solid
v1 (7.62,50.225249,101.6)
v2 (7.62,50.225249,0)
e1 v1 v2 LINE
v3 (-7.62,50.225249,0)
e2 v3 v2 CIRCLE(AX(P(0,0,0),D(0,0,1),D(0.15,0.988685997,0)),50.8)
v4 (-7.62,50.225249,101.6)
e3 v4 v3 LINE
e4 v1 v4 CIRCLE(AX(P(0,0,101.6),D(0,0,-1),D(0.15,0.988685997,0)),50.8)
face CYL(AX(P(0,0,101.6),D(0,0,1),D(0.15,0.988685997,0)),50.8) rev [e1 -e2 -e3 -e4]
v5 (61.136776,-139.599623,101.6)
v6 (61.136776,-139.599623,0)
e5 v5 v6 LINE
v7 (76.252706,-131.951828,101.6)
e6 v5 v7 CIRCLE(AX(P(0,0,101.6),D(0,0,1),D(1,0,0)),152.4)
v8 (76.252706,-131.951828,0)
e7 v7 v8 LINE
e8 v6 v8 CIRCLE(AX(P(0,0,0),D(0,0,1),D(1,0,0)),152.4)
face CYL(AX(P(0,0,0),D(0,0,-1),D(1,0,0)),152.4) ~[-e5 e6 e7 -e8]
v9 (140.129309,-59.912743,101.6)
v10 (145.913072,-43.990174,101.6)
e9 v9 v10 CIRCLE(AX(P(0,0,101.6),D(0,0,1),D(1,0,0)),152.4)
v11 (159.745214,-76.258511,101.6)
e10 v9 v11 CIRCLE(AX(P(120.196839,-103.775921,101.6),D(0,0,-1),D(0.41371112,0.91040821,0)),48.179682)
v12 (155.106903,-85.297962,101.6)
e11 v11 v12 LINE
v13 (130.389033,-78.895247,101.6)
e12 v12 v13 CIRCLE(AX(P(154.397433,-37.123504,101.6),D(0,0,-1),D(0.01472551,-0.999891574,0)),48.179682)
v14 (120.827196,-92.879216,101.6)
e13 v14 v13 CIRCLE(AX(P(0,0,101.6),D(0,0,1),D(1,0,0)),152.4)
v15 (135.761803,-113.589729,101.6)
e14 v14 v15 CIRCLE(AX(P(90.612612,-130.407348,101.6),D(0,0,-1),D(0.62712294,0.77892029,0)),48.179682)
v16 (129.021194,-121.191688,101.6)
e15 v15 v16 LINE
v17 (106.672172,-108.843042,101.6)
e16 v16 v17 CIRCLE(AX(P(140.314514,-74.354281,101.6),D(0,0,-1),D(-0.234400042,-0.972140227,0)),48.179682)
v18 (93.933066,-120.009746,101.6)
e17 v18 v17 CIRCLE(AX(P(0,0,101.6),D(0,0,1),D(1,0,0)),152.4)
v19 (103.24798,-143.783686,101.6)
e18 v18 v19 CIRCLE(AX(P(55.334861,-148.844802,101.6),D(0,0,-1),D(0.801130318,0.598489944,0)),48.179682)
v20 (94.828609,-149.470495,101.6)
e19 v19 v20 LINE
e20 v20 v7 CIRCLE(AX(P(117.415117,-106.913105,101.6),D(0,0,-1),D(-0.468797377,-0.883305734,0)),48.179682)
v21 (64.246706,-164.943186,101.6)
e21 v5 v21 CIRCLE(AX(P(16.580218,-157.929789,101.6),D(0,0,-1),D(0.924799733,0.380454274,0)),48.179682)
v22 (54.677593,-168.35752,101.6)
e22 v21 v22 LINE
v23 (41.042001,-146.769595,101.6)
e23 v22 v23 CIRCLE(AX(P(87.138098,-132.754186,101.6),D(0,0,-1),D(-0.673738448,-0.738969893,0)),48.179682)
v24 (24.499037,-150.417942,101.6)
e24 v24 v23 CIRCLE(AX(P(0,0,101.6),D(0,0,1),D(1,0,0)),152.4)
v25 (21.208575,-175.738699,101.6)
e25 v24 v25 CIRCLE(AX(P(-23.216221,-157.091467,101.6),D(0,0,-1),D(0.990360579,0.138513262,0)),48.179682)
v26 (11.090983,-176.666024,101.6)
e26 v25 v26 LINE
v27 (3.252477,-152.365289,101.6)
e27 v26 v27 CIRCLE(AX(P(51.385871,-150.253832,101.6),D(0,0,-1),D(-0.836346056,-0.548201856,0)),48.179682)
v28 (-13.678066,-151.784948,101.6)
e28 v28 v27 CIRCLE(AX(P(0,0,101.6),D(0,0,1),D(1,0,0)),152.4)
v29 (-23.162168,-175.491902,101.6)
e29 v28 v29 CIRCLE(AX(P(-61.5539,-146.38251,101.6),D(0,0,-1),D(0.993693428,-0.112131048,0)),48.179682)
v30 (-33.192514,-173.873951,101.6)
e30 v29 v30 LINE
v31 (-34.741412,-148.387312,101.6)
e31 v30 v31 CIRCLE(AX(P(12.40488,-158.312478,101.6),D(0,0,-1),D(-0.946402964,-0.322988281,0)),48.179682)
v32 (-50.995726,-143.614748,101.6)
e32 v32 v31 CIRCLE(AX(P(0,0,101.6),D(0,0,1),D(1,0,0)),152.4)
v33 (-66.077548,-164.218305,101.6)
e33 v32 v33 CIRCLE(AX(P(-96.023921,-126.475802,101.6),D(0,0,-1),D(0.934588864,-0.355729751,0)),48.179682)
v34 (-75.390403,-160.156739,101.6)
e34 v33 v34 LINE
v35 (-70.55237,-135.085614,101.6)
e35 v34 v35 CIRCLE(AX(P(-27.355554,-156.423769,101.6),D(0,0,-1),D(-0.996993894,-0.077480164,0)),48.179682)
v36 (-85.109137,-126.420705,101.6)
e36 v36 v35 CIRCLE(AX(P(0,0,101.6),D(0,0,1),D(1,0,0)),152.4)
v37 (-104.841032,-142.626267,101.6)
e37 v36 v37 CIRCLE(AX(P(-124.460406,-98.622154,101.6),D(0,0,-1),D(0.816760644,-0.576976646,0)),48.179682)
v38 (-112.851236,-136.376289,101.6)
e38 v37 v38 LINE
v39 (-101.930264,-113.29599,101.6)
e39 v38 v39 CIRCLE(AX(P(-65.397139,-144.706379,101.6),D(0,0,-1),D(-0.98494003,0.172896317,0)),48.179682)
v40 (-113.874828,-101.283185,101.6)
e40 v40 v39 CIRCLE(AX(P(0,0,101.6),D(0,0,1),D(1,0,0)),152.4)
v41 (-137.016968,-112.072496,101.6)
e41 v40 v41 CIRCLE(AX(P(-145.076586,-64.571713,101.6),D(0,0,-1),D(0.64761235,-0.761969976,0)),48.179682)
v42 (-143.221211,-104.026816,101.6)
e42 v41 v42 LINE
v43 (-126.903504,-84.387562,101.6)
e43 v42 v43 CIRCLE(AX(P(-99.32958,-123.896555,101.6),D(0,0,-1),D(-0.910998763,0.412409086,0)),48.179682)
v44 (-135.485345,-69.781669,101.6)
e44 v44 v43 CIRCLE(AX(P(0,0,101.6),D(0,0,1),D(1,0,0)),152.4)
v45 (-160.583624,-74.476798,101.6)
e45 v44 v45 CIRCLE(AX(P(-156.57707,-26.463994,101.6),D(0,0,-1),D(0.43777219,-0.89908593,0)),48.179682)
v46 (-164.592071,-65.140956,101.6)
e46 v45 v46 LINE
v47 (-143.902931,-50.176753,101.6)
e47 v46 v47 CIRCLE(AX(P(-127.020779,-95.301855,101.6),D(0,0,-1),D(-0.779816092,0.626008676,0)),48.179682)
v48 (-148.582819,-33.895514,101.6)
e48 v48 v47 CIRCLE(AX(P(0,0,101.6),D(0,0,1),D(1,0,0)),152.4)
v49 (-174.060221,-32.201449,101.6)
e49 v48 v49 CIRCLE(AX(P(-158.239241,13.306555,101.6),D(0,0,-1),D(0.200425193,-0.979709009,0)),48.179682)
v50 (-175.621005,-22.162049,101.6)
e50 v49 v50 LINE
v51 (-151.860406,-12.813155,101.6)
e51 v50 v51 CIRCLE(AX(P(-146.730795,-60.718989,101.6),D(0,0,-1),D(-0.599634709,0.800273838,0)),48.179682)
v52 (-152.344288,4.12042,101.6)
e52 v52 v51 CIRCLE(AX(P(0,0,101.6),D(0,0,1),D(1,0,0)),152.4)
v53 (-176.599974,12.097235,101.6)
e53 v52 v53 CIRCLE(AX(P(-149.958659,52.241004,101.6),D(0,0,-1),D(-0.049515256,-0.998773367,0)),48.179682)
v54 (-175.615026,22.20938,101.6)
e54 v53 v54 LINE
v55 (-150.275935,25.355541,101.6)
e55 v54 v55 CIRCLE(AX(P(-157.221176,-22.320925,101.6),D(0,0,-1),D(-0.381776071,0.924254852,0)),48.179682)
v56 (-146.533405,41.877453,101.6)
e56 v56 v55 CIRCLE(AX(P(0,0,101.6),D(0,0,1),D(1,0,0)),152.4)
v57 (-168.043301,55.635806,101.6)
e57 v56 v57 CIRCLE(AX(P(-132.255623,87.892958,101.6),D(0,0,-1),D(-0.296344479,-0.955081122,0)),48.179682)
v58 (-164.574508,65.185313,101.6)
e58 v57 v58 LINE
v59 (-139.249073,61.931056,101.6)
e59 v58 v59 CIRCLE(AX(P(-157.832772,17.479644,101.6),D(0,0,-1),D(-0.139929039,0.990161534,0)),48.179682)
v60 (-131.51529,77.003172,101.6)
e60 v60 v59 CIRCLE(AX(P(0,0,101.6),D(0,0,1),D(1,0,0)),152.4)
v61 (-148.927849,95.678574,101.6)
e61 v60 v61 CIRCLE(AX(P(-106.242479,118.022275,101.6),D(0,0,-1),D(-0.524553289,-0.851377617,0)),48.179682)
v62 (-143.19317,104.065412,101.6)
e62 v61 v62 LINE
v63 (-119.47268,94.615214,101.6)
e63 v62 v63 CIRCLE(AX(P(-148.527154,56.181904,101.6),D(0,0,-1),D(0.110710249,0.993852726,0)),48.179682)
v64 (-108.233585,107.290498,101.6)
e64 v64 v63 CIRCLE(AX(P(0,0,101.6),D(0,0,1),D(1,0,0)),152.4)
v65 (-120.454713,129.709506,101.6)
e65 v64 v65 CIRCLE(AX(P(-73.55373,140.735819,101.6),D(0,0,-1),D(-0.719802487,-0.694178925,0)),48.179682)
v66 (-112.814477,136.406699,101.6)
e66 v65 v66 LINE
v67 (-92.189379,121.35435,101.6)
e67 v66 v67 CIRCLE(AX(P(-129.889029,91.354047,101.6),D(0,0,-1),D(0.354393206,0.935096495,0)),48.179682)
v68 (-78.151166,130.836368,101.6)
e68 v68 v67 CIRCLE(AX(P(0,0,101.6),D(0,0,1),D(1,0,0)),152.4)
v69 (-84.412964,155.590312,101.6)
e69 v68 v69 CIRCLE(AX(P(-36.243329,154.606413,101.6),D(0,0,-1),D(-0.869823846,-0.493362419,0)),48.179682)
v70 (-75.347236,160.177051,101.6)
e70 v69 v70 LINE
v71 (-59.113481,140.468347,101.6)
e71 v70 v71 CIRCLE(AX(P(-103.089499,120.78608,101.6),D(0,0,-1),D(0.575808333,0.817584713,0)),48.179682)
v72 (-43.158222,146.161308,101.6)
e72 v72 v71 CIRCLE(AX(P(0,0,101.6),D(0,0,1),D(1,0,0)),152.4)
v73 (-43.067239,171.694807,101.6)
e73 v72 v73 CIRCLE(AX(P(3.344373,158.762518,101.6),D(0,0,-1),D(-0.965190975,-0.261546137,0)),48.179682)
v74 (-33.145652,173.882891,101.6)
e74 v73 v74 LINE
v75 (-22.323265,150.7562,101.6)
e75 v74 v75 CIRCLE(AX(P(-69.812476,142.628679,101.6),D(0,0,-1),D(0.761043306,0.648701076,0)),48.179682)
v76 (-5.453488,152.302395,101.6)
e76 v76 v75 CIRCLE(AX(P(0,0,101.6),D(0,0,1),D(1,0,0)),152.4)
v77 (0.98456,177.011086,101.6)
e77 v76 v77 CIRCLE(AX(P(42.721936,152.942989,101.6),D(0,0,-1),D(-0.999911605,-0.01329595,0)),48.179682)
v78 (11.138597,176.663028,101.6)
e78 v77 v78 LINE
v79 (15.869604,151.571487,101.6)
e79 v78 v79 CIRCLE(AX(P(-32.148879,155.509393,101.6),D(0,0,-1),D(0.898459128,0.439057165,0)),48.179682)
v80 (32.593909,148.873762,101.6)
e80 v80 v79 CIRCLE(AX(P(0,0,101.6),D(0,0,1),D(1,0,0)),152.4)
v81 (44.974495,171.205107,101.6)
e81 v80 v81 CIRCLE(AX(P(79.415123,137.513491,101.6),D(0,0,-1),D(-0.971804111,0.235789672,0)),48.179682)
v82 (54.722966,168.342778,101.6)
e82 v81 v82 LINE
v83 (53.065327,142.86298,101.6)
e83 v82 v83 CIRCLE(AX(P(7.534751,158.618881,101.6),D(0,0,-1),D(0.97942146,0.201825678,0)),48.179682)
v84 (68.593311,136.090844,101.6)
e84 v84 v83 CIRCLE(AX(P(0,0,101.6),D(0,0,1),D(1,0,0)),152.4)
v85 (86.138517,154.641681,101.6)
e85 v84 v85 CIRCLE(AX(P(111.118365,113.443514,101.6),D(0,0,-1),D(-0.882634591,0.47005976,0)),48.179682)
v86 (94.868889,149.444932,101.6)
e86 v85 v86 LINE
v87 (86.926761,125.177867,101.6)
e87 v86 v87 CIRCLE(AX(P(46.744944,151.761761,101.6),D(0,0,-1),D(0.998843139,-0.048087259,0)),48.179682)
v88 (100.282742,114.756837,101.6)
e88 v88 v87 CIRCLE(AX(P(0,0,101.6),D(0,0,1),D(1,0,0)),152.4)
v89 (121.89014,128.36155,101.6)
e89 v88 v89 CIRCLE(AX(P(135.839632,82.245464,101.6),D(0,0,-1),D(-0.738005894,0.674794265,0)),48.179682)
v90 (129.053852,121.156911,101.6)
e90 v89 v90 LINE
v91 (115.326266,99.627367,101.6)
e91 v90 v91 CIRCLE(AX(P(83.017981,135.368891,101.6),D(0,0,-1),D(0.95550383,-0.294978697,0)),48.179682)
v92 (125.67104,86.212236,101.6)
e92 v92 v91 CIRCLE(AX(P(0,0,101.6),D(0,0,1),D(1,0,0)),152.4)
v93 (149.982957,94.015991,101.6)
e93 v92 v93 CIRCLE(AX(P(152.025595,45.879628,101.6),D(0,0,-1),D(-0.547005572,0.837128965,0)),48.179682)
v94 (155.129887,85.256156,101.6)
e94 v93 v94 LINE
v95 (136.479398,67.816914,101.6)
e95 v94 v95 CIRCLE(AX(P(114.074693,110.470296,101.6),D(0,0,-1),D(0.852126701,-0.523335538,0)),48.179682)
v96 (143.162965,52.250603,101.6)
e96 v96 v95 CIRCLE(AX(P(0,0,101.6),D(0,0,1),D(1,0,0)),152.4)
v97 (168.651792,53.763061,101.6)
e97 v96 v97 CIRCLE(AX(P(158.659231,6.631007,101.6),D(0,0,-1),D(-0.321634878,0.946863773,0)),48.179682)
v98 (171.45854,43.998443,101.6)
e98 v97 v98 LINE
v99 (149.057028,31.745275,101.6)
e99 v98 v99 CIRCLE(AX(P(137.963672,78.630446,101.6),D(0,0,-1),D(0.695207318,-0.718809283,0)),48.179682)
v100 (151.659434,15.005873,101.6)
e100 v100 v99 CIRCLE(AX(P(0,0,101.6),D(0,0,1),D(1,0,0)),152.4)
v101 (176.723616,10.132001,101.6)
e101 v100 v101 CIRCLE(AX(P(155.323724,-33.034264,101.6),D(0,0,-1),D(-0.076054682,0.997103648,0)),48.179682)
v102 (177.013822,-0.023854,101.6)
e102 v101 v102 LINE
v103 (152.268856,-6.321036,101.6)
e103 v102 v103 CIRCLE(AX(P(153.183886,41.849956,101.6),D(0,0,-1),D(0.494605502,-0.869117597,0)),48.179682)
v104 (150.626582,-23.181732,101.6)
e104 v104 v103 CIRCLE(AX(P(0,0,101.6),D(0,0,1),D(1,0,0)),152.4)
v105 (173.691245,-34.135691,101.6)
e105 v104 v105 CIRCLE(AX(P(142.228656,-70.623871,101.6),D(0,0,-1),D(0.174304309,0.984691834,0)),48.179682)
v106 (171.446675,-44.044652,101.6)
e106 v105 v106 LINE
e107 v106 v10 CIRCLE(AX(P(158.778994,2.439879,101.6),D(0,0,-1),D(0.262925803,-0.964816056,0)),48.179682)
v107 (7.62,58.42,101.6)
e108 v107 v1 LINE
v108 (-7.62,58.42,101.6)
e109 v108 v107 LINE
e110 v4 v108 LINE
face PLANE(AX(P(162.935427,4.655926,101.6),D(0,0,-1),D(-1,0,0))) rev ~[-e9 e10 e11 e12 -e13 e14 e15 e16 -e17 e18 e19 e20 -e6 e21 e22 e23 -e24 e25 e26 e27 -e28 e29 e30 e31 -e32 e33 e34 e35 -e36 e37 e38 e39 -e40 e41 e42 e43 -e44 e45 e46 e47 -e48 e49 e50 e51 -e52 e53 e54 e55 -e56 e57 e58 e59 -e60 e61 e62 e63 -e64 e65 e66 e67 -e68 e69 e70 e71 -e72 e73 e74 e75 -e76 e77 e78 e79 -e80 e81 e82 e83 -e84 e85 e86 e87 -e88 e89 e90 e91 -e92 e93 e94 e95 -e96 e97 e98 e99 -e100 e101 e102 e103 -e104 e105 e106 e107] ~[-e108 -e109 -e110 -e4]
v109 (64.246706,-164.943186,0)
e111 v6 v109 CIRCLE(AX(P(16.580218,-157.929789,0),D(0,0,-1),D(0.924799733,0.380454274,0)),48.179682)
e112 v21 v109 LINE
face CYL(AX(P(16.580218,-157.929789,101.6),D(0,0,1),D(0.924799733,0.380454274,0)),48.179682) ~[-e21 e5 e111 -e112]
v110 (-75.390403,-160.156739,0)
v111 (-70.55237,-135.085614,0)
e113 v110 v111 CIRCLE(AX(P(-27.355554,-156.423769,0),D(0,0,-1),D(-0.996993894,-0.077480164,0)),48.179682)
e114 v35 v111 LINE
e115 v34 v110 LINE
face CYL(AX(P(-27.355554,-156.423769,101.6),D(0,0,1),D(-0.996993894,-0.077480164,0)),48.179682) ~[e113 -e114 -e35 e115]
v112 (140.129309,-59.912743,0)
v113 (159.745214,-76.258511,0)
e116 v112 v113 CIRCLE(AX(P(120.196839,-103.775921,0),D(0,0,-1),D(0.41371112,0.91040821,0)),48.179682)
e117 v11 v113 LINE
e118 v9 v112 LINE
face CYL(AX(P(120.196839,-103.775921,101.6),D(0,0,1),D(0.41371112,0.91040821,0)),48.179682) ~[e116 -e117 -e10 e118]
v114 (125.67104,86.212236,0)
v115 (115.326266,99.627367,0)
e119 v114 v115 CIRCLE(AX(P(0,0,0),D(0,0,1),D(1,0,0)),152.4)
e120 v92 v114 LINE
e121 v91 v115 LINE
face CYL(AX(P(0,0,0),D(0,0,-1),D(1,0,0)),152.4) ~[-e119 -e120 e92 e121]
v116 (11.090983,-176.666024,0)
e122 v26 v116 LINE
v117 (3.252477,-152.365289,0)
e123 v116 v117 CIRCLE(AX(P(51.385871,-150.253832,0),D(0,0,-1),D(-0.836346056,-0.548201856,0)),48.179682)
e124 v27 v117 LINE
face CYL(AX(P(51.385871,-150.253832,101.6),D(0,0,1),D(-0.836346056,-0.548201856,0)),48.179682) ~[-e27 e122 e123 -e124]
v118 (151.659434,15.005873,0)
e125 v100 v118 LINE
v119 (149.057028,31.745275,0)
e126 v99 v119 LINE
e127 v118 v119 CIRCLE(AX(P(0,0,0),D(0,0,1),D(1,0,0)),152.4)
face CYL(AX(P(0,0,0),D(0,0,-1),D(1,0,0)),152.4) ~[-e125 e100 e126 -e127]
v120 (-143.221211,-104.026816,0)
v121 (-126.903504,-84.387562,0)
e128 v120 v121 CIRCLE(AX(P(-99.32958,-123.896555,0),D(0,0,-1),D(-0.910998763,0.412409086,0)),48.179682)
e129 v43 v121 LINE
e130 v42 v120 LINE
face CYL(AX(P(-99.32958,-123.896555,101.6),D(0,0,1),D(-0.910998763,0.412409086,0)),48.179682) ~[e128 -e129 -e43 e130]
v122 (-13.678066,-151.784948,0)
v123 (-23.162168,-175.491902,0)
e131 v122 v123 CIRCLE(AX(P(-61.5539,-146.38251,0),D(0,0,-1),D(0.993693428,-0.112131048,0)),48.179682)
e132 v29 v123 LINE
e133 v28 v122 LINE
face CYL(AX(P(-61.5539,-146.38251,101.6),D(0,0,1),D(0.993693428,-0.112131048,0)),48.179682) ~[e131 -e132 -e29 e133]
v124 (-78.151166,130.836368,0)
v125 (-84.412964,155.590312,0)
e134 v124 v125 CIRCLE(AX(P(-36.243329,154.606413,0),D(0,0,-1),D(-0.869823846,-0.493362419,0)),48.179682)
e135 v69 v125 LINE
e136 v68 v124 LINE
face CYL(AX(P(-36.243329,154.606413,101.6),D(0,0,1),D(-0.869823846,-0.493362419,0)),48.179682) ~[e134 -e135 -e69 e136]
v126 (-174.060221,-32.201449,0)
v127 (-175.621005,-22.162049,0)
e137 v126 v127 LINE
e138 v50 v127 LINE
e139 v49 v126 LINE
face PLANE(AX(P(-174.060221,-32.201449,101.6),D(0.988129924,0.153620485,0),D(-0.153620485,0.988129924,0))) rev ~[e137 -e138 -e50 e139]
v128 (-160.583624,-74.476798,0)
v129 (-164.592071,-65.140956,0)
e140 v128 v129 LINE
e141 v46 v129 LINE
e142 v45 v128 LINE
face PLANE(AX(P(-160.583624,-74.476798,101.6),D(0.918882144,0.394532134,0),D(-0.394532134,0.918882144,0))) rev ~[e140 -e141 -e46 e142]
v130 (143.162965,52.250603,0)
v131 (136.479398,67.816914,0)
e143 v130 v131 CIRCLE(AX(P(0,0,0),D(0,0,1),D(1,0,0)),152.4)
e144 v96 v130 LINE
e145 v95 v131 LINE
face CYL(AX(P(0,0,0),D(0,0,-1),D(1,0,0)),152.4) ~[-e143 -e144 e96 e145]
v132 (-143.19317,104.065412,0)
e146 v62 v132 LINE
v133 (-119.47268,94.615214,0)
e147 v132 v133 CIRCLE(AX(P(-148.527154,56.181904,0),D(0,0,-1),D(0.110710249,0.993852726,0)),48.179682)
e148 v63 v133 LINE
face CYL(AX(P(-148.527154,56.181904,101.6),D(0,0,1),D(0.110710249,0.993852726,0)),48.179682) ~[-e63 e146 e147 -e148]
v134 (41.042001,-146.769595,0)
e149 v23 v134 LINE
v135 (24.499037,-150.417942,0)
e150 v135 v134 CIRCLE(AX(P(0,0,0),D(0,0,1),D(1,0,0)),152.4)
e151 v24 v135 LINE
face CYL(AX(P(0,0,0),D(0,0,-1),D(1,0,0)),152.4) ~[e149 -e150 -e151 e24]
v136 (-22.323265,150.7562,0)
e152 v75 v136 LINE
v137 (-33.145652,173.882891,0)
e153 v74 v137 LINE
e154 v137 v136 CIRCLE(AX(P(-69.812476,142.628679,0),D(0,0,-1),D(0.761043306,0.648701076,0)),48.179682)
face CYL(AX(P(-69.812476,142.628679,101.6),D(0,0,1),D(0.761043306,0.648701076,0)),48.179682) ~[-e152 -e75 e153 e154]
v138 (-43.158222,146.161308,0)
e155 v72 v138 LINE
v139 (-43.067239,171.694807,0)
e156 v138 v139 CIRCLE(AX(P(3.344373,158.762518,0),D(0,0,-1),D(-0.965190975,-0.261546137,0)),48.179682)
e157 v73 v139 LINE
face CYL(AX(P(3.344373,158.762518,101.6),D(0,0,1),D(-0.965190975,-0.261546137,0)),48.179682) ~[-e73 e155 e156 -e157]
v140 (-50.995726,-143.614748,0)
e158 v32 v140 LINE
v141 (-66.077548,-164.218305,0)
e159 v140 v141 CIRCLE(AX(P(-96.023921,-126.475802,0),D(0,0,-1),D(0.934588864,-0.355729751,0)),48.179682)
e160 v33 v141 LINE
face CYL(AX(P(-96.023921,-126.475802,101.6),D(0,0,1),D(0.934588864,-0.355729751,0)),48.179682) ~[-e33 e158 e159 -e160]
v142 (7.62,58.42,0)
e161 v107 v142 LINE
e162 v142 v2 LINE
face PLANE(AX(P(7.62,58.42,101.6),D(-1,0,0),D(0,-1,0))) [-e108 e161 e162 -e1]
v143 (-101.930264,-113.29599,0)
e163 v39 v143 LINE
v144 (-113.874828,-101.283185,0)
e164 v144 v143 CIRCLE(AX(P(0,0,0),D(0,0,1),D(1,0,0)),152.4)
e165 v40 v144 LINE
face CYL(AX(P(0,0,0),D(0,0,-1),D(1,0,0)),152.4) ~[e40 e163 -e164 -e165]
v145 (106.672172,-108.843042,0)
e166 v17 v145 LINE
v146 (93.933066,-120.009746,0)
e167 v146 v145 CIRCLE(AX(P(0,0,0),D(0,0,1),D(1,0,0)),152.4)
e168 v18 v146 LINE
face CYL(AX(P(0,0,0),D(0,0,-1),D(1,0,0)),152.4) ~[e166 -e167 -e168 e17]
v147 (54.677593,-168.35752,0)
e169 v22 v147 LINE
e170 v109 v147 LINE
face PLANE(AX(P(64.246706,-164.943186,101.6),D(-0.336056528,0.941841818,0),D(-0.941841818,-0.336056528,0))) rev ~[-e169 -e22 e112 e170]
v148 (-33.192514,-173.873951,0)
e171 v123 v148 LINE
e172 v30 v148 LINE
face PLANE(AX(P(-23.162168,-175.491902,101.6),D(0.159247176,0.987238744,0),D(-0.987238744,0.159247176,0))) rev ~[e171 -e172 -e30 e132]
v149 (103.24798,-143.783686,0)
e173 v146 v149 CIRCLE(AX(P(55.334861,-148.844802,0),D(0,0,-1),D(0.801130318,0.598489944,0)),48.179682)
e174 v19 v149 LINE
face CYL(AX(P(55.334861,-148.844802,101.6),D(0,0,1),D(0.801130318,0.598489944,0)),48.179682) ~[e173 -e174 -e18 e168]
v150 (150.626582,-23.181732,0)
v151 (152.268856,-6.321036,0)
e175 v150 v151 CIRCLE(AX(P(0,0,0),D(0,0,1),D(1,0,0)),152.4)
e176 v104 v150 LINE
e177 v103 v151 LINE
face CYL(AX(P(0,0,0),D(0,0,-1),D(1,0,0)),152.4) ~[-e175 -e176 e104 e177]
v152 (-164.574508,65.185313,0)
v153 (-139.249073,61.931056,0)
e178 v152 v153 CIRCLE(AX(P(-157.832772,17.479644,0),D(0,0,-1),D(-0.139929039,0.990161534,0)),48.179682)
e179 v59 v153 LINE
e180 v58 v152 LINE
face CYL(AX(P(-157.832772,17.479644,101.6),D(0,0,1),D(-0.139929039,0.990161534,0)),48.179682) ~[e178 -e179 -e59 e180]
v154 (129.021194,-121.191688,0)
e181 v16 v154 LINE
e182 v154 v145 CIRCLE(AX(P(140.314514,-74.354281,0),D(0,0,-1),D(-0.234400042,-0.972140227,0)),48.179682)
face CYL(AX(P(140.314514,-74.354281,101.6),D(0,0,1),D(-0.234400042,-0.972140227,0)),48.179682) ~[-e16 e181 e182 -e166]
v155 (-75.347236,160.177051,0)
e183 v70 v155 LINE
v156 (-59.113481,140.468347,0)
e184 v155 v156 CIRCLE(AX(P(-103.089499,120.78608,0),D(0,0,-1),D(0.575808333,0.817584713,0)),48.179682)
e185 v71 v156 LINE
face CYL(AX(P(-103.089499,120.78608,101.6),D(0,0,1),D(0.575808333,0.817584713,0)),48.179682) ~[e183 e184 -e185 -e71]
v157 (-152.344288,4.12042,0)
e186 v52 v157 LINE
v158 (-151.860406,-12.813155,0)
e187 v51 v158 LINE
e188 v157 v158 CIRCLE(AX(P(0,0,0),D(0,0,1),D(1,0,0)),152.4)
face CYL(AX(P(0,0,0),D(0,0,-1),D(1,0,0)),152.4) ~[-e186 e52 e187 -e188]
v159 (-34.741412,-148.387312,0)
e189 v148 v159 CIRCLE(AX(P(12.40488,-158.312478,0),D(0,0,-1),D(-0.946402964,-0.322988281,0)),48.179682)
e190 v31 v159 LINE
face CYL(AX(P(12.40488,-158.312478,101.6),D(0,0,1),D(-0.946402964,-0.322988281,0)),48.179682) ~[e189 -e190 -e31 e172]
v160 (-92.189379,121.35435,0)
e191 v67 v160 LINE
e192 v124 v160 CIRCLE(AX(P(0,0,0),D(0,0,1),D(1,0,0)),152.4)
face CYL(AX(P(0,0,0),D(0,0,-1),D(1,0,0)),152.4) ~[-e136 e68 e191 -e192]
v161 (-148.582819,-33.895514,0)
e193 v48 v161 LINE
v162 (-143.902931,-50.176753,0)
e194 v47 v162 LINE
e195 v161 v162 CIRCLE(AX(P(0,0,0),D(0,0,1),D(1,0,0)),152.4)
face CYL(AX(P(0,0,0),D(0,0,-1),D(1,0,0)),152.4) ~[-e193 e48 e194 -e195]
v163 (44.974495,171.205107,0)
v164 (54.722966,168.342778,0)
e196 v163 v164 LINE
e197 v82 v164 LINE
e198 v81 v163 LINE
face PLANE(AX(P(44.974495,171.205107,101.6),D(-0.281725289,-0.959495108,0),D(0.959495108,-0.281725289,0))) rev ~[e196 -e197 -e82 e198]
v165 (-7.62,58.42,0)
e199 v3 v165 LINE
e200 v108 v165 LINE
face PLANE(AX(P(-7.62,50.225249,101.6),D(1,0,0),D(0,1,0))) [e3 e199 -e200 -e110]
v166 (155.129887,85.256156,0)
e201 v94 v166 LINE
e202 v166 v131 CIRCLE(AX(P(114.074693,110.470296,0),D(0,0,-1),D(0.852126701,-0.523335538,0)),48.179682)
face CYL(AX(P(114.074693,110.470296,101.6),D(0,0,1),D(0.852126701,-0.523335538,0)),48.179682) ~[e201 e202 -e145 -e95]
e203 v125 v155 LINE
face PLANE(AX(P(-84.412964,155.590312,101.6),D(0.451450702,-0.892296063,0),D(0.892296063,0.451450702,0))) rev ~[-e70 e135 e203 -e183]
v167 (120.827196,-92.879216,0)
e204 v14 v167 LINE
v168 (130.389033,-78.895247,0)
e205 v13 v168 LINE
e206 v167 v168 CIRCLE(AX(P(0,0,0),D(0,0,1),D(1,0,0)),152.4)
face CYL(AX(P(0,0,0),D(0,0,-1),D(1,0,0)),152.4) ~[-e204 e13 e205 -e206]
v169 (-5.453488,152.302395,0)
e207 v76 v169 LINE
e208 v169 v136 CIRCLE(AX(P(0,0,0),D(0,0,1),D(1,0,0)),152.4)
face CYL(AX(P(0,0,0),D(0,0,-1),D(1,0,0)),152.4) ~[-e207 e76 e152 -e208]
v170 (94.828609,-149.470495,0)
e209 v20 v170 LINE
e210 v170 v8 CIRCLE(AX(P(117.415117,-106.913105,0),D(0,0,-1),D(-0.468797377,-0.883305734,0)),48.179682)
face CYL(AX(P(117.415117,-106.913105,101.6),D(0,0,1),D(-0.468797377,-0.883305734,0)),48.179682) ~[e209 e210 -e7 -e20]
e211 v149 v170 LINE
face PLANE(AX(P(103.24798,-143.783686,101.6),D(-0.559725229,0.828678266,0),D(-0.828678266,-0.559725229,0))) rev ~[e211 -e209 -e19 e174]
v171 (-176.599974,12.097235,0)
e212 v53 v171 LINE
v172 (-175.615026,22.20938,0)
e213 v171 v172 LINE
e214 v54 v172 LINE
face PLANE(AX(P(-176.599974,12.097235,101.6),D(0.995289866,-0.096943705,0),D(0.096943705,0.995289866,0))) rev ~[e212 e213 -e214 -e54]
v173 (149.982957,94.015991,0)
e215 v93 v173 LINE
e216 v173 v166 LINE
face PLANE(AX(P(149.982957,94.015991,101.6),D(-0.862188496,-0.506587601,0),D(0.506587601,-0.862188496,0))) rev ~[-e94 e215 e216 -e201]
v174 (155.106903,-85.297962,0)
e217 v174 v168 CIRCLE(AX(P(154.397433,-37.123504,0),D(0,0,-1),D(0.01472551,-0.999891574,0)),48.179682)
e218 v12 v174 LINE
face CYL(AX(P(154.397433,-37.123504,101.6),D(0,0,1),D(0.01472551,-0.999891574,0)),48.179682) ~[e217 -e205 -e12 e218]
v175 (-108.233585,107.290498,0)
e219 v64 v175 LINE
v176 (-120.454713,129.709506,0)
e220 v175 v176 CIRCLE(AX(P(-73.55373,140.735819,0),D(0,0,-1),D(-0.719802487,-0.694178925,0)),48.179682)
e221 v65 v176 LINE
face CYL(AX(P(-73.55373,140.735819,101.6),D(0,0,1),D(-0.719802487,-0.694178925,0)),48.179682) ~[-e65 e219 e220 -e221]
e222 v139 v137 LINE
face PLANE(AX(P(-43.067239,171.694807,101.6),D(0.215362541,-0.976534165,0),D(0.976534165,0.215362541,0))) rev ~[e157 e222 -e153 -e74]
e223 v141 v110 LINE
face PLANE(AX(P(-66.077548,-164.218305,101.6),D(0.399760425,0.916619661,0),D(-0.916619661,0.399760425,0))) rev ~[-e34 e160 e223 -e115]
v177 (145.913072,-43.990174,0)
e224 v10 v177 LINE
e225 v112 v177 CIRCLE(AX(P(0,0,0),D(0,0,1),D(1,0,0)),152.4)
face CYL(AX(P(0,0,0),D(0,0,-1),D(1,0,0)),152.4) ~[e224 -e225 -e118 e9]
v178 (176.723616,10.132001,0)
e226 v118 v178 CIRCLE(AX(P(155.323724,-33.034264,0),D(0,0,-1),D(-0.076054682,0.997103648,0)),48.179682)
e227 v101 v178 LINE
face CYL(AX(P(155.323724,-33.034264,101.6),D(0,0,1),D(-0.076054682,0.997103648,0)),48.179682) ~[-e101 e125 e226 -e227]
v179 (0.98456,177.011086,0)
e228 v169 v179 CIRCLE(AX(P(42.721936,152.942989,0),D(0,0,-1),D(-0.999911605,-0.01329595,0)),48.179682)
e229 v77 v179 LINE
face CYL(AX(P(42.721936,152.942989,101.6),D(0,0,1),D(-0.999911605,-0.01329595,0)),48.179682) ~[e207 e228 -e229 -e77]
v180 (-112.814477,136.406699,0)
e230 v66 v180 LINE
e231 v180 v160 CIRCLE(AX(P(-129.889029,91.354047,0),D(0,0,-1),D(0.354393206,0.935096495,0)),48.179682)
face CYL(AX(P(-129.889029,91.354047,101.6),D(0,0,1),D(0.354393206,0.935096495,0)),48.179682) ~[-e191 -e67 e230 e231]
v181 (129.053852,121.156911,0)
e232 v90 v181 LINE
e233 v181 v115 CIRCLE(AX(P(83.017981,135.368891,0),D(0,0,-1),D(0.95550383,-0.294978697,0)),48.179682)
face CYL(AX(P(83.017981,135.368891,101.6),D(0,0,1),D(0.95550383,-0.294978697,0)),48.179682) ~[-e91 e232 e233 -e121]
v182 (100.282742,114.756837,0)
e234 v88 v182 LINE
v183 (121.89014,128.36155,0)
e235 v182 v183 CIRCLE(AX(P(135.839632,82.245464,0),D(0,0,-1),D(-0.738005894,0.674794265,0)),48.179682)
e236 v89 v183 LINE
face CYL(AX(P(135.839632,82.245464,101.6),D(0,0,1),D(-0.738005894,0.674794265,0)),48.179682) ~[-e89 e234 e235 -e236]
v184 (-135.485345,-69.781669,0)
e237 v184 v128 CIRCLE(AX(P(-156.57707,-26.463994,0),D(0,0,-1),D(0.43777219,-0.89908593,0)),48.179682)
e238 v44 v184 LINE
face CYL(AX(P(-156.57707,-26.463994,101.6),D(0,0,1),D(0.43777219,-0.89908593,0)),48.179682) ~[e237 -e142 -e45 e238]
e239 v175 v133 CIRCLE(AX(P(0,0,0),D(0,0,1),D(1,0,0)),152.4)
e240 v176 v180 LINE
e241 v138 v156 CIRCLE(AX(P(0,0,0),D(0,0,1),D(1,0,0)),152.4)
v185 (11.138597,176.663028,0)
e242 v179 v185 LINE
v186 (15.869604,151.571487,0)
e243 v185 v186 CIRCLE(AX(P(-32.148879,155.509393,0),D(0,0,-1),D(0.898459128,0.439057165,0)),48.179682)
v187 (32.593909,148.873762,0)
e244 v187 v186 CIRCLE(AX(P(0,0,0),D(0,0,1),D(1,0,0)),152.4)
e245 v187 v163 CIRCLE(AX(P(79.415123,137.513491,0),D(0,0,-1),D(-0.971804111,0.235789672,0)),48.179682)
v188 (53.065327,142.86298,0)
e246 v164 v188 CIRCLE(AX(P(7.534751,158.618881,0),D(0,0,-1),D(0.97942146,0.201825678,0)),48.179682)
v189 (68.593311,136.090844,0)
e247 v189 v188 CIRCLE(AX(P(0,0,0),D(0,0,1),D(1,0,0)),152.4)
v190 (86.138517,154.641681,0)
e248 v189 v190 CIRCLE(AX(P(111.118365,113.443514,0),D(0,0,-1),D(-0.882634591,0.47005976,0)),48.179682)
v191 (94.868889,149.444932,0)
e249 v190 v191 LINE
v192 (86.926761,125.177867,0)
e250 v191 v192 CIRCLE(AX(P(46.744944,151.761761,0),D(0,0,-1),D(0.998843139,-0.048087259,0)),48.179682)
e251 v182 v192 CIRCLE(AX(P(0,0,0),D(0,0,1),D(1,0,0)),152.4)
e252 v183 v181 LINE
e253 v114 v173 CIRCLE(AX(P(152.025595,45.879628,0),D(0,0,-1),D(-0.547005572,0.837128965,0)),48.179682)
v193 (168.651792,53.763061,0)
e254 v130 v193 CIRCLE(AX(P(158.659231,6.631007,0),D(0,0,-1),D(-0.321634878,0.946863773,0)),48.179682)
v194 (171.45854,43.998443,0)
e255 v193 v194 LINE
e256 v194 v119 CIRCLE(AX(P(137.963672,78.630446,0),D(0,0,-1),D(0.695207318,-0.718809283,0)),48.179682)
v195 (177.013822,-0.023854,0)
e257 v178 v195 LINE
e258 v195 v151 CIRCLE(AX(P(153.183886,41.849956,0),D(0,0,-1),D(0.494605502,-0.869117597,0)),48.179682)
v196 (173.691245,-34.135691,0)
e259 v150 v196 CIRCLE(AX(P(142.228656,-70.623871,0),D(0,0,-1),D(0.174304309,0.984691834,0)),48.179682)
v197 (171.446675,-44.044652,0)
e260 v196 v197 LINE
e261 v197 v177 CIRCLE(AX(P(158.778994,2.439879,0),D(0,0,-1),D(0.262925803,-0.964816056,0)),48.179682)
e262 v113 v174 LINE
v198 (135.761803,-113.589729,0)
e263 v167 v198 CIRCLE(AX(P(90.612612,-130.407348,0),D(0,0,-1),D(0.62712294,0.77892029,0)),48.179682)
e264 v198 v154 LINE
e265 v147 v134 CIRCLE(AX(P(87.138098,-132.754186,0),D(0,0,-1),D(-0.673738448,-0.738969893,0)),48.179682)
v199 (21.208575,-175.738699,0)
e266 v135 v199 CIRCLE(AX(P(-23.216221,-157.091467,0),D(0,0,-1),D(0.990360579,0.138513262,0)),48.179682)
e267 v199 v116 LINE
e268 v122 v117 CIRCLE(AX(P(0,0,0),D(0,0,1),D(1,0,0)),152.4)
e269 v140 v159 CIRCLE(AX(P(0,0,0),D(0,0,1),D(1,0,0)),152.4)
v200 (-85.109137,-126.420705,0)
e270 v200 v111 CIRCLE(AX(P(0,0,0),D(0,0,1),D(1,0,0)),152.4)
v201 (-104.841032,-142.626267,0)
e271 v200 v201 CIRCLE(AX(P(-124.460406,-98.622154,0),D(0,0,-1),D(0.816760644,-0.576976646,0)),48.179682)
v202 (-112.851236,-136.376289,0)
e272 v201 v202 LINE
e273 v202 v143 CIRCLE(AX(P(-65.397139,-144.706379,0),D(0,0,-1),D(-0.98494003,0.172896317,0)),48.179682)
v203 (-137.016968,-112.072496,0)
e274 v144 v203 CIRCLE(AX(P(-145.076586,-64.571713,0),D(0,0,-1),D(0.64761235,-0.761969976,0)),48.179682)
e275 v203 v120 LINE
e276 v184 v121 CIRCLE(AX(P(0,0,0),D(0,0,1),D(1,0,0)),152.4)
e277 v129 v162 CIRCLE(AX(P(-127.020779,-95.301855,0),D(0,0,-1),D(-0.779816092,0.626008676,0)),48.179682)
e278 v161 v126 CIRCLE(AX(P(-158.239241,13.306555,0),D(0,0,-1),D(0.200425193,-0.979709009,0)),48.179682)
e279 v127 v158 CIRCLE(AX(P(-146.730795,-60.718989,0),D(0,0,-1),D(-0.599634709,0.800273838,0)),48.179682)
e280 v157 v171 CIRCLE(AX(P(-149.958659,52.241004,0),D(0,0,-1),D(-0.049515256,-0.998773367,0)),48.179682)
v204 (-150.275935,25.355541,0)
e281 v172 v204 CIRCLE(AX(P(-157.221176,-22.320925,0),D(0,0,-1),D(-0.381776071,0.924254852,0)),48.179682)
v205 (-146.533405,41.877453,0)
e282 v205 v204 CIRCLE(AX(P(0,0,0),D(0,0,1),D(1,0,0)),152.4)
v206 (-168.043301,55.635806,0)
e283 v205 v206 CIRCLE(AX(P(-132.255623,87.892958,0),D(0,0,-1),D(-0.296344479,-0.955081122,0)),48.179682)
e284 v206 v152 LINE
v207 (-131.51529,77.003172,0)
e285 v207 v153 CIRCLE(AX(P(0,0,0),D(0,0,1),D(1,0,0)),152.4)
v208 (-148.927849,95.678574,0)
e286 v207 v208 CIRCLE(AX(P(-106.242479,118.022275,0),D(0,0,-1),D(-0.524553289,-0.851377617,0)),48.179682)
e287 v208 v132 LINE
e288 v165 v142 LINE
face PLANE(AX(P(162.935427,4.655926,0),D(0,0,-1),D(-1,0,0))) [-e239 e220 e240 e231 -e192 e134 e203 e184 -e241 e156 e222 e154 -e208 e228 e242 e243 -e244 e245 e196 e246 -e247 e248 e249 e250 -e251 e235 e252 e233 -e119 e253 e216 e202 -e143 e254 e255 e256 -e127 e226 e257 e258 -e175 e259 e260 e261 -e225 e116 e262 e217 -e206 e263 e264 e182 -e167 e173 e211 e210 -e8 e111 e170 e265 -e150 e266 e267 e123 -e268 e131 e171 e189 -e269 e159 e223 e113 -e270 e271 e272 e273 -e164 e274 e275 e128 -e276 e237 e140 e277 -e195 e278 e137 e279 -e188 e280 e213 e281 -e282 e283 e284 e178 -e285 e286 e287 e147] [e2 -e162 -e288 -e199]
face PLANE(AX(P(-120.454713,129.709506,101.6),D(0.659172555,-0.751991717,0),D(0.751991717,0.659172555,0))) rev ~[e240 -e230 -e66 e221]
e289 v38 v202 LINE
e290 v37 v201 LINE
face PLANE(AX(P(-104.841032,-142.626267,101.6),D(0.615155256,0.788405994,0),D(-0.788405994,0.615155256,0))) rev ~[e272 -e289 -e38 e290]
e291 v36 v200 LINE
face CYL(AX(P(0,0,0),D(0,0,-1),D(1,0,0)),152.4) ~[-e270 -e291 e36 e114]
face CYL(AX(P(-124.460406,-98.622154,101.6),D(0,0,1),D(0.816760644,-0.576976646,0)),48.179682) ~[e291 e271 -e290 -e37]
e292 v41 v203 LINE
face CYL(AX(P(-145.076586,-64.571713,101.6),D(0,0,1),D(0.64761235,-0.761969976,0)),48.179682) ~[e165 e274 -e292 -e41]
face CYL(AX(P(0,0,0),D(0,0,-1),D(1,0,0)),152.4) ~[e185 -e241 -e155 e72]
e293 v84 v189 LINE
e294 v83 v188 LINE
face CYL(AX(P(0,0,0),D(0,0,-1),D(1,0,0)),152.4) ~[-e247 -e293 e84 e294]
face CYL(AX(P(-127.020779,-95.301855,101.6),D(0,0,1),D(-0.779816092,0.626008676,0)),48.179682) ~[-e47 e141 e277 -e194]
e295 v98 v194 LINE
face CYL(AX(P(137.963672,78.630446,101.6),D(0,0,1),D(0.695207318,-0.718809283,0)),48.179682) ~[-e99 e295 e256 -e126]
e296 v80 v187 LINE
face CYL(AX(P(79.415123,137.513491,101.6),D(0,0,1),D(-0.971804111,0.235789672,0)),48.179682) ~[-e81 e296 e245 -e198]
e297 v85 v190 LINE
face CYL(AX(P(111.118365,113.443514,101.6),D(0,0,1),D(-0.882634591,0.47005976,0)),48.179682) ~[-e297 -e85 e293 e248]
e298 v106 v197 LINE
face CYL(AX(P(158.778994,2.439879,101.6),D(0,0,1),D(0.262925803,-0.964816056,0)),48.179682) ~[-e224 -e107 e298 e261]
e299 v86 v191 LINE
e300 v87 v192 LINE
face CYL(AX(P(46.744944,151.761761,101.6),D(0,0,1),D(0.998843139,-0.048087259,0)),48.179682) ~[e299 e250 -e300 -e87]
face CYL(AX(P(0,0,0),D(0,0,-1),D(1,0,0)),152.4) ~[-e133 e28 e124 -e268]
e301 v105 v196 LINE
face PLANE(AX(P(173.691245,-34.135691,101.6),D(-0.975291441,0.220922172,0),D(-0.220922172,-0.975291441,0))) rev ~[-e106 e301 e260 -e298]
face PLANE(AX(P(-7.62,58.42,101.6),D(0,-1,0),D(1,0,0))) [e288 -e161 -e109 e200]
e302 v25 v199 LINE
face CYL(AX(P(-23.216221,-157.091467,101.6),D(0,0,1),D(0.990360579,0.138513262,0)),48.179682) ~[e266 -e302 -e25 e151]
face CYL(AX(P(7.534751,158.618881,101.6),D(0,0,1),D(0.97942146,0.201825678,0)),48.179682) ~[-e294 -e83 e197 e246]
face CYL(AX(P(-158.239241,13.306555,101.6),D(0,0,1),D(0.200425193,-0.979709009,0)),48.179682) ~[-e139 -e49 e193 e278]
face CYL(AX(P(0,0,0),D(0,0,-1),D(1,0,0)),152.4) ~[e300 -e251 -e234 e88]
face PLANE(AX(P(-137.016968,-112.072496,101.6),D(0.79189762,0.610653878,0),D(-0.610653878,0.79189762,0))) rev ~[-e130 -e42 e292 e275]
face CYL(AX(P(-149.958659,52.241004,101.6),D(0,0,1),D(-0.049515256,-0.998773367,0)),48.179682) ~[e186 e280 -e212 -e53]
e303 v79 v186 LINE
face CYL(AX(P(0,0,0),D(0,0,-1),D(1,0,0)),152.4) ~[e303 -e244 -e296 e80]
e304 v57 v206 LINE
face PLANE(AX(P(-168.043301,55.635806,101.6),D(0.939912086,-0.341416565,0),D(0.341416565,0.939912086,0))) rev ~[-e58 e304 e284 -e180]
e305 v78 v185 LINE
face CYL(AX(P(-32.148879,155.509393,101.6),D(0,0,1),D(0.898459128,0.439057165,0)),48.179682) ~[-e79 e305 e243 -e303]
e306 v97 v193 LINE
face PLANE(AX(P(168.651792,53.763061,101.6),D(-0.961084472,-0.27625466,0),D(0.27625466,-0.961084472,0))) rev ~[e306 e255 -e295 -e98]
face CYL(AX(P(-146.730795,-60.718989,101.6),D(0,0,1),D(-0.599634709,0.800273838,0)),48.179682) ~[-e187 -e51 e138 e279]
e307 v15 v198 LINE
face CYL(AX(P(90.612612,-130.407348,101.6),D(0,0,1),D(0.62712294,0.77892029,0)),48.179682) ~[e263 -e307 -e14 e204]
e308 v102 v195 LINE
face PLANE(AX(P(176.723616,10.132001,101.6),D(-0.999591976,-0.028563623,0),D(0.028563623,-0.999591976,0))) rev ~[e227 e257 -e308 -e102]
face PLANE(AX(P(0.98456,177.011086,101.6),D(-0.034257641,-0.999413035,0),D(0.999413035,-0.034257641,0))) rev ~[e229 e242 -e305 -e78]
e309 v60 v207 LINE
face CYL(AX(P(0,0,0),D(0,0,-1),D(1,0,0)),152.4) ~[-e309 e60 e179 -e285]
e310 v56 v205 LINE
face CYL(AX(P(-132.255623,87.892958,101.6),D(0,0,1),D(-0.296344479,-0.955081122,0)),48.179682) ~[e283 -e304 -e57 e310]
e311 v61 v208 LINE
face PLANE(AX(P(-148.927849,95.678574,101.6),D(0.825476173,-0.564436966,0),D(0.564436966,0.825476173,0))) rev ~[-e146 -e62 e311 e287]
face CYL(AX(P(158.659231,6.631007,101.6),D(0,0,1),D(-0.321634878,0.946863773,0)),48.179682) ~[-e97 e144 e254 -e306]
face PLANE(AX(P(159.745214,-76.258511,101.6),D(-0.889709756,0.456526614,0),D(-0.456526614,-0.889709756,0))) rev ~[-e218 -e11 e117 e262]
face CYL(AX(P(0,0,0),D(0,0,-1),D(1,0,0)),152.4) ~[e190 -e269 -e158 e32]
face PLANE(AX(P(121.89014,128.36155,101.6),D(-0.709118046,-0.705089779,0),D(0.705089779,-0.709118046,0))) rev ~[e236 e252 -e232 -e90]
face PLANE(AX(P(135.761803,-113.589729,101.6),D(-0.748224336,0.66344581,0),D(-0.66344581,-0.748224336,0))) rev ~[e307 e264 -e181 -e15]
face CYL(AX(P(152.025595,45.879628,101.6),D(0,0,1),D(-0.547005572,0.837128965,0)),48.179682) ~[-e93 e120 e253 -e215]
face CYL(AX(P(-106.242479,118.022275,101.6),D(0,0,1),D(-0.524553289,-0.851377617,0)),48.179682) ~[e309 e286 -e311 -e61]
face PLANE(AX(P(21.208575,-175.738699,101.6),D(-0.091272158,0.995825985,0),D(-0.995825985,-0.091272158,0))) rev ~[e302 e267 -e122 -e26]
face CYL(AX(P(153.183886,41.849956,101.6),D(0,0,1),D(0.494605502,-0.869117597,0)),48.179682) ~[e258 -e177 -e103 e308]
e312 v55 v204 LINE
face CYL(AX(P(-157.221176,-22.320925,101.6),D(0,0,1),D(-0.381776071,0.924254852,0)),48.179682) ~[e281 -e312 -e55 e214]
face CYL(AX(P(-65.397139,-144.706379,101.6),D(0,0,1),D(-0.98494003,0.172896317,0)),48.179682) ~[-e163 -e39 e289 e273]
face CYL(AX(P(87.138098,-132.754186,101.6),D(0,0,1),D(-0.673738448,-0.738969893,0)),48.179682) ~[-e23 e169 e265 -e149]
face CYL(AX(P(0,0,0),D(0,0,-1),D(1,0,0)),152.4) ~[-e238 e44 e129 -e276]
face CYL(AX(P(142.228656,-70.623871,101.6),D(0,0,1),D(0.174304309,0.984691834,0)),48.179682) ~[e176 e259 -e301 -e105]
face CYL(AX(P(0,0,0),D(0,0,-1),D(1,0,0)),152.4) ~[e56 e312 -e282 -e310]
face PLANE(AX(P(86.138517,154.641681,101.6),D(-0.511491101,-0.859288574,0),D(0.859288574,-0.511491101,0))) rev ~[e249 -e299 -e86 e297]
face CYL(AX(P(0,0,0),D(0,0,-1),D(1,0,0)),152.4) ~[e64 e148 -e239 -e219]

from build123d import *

# Parameters (mm, degrees)
SKETCH1_R           = 152.4
BOSS_EXTRUDE1_DEPTH = 101.6
CUT_EXTRUDE1_DEPTH  = 102.6
BOSS_EXTRUDE3_DEPTH = 101.6


with BuildPart() as part:
    # Sketch1 → Boss-Extrude1 (new body)
    with BuildSketch(Plane.XY):
        Circle(SKETCH1_R)
    extrude(amount=BOSS_EXTRUDE1_DEPTH)

    # Sketch2 → Cut-Extrude1 (cut, through all)
    with BuildSketch(Plane.XY.offset(101.6)):
        with BuildLine():
            Line((-7.62, 50.225248631), (-7.62, 58.42))
            Line((-7.62, 58.42), (7.62, 58.42))
            Line((7.62, 58.42), (7.62, 50.225248631))
            ThreePointArc((7.62, 50.225248631), (0, -50.8), (-7.62, 50.225248631))
        make_face()
    extrude(amount=-CUT_EXTRUDE1_DEPTH, mode=Mode.SUBTRACT)

    # Sketch3 → Boss-Extrude3 (add)
    with BuildSketch(Plane.XY.offset(101.6)):
        with BuildLine():
            Line((0.984560076, 177.011085759), (11.138596509, 176.66302813))
            ThreePointArc((11.138596509, 176.66302813), (15.196562883, 164.436371227), (15.869603853, 151.571487007))
            ThreePointArc((15.869603853, 151.571487007), (5.22086444, 152.310546498), (-5.453487698, 152.302394833))
            ThreePointArc((-5.453487698, 152.302394833), (-3.901102684, 165.090996434), (0.984560076, 177.011085759))
        make_face()
        with BuildLine():
            Line((44.974495255, 171.205106866), (54.722965549, 168.342777932))
            ThreePointArc((54.722965549, 168.342777932), (55.612797522, 155.491068739), (53.065327067, 142.862980031))
            ThreePointArc((53.065327067, 142.862980031), (42.934934006, 146.227054412), (32.593909032, 148.873762275))
            ThreePointArc((32.593909032, 148.873762275), (37.277918906, 160.874523986), (44.974495255, 171.205106866))
        make_face()
        with BuildLine():
            Line((86.138517492, 154.641681459), (94.868889406, 149.444931875))
            ThreePointArc((94.868889406, 149.444931875), (92.534675563, 136.775690545), (86.926760621, 125.177866606))
            ThreePointArc((86.926760621, 125.177866606), (77.951243764, 130.955578711), (68.593310586, 136.090843714))
            ThreePointArc((68.593310586, 136.090843714), (76.114631752, 146.549713541), (86.138517492, 154.641681459))
        make_face()
        with BuildLine():
            Line((121.890139881, 128.361550474), (129.053852039, 121.156911128))
            ThreePointArc((129.053852039, 121.156911128), (123.642259619, 109.46619269), (115.326266111, 99.62736745))
            ThreePointArc((115.326266111, 99.62736745), (108.069590193, 107.455682379), (100.282742167, 114.756836935))
            ThreePointArc((100.282742167, 114.756836935), (110.168782355, 123.016645622), (121.890139881, 128.361550474))
        make_face()
        with BuildLine():
            Line((149.9829565, 94.015991192), (155.129886522, 85.256156071))
            ThreePointArc((155.129886522, 85.256156071), (146.980945779, 75.278531359), (136.47939816, 67.816914393))
            ThreePointArc((136.47939816, 67.816914393), (131.397526817, 77.203950329), (125.671040244, 86.212236046))
            ThreePointArc((125.671040244, 86.212236046), (137.30062319, 91.753989435), (149.9829565, 94.015991192))
        make_face()
        with BuildLine():
            Line((168.651792363, 53.763061417), (171.458539706, 43.998443178))
            ThreePointArc((171.458539706, 43.998443178), (161.084278558, 36.360843047), (149.057027687, 31.745275192))
            ThreePointArc((149.057027687, 31.745275192), (146.469273585, 42.101210144), (143.162964676, 52.250603299))
            ThreePointArc((143.162964676, 52.250603299), (155.805360914, 54.726092645), (168.651792363, 53.763061417))
        make_face()
        with BuildLine():
            Line((176.723615855, 10.132000766), (177.01382226, -0.023853715))
            ThreePointArc((177.01382226, -0.023853715), (165.066093688, -4.841530759), (152.268855971, -6.3210364))
            ThreePointArc((152.268855971, -6.3210364), (152.337817217, 4.353096088), (151.659433521, 15.005872983))
            ThreePointArc((151.659433521, 15.005872983), (164.520274799, 14.259554184), (176.723615855, 10.132000766))
        make_face()
        with BuildLine():
            Line((173.691244618, -34.135690756), (171.446675351, -44.044651791))
            ThreePointArc((171.446675351, -44.044651791), (158.676199082, -45.739693381), (145.913072029, -43.990174028))
            ThreePointArc((145.913072029, -43.990174028), (148.634415534, -33.668539005), (150.626582394, -23.181731521))
            ThreePointArc((150.626582394, -23.181731521), (162.897774756, -27.102964508), (173.691244618, -34.135690756))
        make_face()
        with BuildLine():
            Line((159.74521369, -76.258511285), (155.106903292, -85.297962411))
            ThreePointArc((155.106903292, -85.297962411), (142.316095317, -83.76386285), (130.389033141, -78.895247238))
            ThreePointArc((130.389033141, -78.895247238), (135.591766884, -69.574655969), (140.129309129, -59.912742576))
            ThreePointArc((140.129309129, -59.912742576), (151.039808429, -66.762504263), (159.74521369, -76.258511285))
        make_face()
        with BuildLine():
            Line((135.761803484, -113.589729091), (129.021194056, -121.191688348))
            ThreePointArc((129.021194056, -121.191688348), (117.013747881, -116.524840753), (106.672171762, -108.843041907))
            ThreePointArc((106.672171762, -108.843041907), (114.02938885, -101.109141419), (120.827196012, -92.879215672))
            ThreePointArc((120.827196012, -92.879215672), (129.691455452, -102.227110339), (135.761803484, -113.589729091))
        make_face()
        with BuildLine():
            Line((103.247979869, -143.783686465), (94.828608691, -149.470494794))
            ThreePointArc((94.828608691, -149.470494794), (84.358996319, -141.964134364), (76.25270552, -131.951827956))
            ThreePointArc((76.25270552, -131.951827956), (85.302124943, -126.290567662), (93.933065798, -120.009746062))
            ThreePointArc((93.933065798, -120.009746062), (100.194111358, -131.268411108), (103.247979869, -143.783686465))
        make_face()
        with BuildLine():
            Line((64.246705958, -164.943186018), (54.677593087, -168.357520338))
            ThreePointArc((54.677593087, -168.357520338), (46.403658768, -158.483299305), (41.042001351, -146.76959537))
            ThreePointArc((41.042001351, -146.76959537), (51.215014806, -143.536693073), (61.136775598, -139.599622741))
            ThreePointArc((61.136775598, -139.599622741), (64.401202759, -152.061634836), (64.246705958, -164.943186018))
        make_face()
        with BuildLine():
            Line((21.20857523, -175.738698575), (11.090983218, -176.666023704))
            ThreePointArc((11.090983218, -176.666023704), (5.532608676, -165.04437569), (3.252477296, -152.365289326))
            ThreePointArc((3.252477296, -152.365289326), (13.909876934, -151.763880168), (24.499036942, -150.417941712))
            ThreePointArc((24.499036942, -150.417941712), (24.561729739, -163.300266803), (21.20857523, -175.738698575))
        make_face()
        with BuildLine():
            Line((-23.16216828, -175.49190238), (-33.192513915, -173.873951069))
            ThreePointArc((-33.192513915, -173.873951069), (-35.686075567, -161.23510696), (-34.74141187, -148.387311794))
            ThreePointArc((-34.74141187, -148.387311794), (-24.269269663, -150.455184524), (-13.678066306, -151.784948207))
            ThreePointArc((-13.678066306, -151.784948207), (-16.821047091, -164.27814243), (-23.16216828, -175.49190238))
        make_face()
        with BuildLine():
            Line((-66.077547573, -164.218304543), (-75.390403326, -160.156738624))
            ThreePointArc((-75.390403326, -160.156738624), (-74.662472438, -147.294843478), (-70.552370357, -135.085613731))
            ThreePointArc((-70.552370357, -135.085613731), (-60.923488791, -139.6928363), (-50.995726343, -143.61474818))
            ThreePointArc((-50.995726343, -143.61474818), (-57.14689567, -154.933818196), (-66.077547573, -164.218304543))
        make_face()
        with BuildLine():
            Line((-104.841031535, -142.62626668), (-112.851236429, -136.376289276))
            ThreePointArc((-112.851236429, -136.376289276), (-108.947551576, -124.099503267), (-101.930263942, -113.295989747))
            ThreePointArc((-101.930263942, -113.295989747), (-93.749661058, -120.153073417), (-85.109137346, -126.420705346))
            ThreePointArc((-85.109137346, -126.420705346), (-93.881994622, -135.854432358), (-104.841031535, -142.62626668))
        make_face()
        with BuildLine():
            Line((-137.016967907, -112.072495938), (-143.22121131, -104.026816116))
            ThreePointArc((-143.22121131, -104.026816116), (-136.387055368, -93.106534861), (-126.90350417, -84.387562054))
            ThreePointArc((-126.90350417, -84.387562054), (-120.685197332, -93.06365104), (-113.874828239, -101.283184653))
            ThreePointArc((-113.874828239, -101.283184653), (-124.718142578, -108.238812898), (-137.016967907, -112.072495938))
        make_face()
        with BuildLine():
            Line((-160.583624273, -74.476798103), (-164.592070753, -65.140955515))
            ThreePointArc((-164.592070753, -65.140955515), (-155.256858874, -56.263340447), (-143.902930513, -50.176753481))
            ThreePointArc((-143.902930513, -50.176753481), (-140.03763881, -60.126697203), (-135.485344872, -69.781668975))
            ThreePointArc((-135.485344872, -69.781668975), (-147.717790955, -73.822150748), (-160.583624273, -74.476798103))
        make_face()
        with BuildLine():
            Line((-174.06022094, -32.201449136), (-175.621005064, -22.162049108))
            ThreePointArc((-175.621005064, -22.162049108), (-164.371302942, -15.884913431), (-151.860406493, -12.81315495))
            ThreePointArc((-151.860406493, -12.81315495), (-150.591000419, -23.411761851), (-148.582819006, -33.895514396))
            ThreePointArc((-148.582819006, -33.895514396), (-161.435787258, -34.766971368), (-174.06022094, -32.201449136))
        make_face()
        with BuildLine():
            Line((-176.599973777, 12.097235308), (-175.615025737, 22.209380351))
            ThreePointArc((-175.615025737, 22.209380351), (-163.157693531, 25.491621116), (-150.27593463, 25.35554123))
            ThreePointArc((-150.27593463, 25.35554123), (-151.682175636, 14.774220601), (-152.344288173, 4.120420012))
            ThreePointArc((-152.344288173, 4.120420012), (-165.010179328, 6.472744687), (-176.599973777, 12.097235308))
        make_face()
        with BuildLine():
            Line((-168.043300773, 55.635805968), (-164.574508477, 65.185312762))
            ThreePointArc((-164.574508477, 65.185312762), (-151.692286184, 65.266423358), (-139.249073118, 61.931055503))
            ThreePointArc((-139.249073118, 61.931055503), (-143.24260191, 52.031884437), (-146.533405431, 41.877453276))
            ThreePointArc((-146.533405431, 41.877453276), (-158.216374966, 47.305754388), (-168.043300773, 55.635805968))
        make_face()
        with BuildLine():
            Line((-148.92784916, 95.678574324), (-143.193169586, 104.065412237))
            ThreePointArc((-143.193169586, 104.065412237), (-130.695494611, 100.940296186), (-119.47268022, 94.615213793))
            ThreePointArc((-119.47268022, 94.615213793), (-125.802568697, 86.020193614), (-131.515289913, 77.003172136))
            ThreePointArc((-131.515289913, 77.003172136), (-141.481253886, 85.166369563), (-148.92784916, 95.678574324))
        make_face()
        with BuildLine():
            Line((-120.454713067, 129.709505975), (-112.814477223, 136.406699136))
            ThreePointArc((-112.814477223, 136.406699136), (-101.486624446, 130.271718973), (-92.189379433, 121.35435023))
            ThreePointArc((-92.189379433, 121.35435023), (-100.457897423, 114.603537665), (-108.233585051, 107.290498494))
            ThreePointArc((-108.233585051, 107.290498494), (-115.856345292, 117.675668518), (-120.454713067, 129.709505975))
        make_face()
        with BuildLine():
            Line((-84.41296435, 155.590312327), (-75.347236353, 160.17705146))
            ThreePointArc((-75.347236353, 160.17705146), (-65.900976426, 151.417690551), (-59.113480889, 140.468346531))
            ThreePointArc((-59.113480889, 140.468346531), (-68.801086995, 135.985919963), (-78.151165985, 130.836368244))
            ThreePointArc((-78.151165985, 130.836368244), (-82.951756434, 142.790972439), (-84.41296435, 155.590312327))
        make_face()
        with BuildLine():
            Line((-43.067238634, 171.694807134), (-33.145651515, 173.88289055))
            ThreePointArc((-33.145651515, 173.88289055), (-26.174527691, 163.049531756), (-22.323264935, 150.756200014))
            ThreePointArc((-22.323264935, 150.756200014), (-32.821251239, 148.823806789), (-43.15822174, 146.161307795))
            ThreePointArc((-43.15822174, 146.161307795), (-44.835003644, 158.934194413), (-43.067238634, 171.694807134))
        make_face()
    extrude(amount=-BOSS_EXTRUDE3_DEPTH)


solid = part.part
